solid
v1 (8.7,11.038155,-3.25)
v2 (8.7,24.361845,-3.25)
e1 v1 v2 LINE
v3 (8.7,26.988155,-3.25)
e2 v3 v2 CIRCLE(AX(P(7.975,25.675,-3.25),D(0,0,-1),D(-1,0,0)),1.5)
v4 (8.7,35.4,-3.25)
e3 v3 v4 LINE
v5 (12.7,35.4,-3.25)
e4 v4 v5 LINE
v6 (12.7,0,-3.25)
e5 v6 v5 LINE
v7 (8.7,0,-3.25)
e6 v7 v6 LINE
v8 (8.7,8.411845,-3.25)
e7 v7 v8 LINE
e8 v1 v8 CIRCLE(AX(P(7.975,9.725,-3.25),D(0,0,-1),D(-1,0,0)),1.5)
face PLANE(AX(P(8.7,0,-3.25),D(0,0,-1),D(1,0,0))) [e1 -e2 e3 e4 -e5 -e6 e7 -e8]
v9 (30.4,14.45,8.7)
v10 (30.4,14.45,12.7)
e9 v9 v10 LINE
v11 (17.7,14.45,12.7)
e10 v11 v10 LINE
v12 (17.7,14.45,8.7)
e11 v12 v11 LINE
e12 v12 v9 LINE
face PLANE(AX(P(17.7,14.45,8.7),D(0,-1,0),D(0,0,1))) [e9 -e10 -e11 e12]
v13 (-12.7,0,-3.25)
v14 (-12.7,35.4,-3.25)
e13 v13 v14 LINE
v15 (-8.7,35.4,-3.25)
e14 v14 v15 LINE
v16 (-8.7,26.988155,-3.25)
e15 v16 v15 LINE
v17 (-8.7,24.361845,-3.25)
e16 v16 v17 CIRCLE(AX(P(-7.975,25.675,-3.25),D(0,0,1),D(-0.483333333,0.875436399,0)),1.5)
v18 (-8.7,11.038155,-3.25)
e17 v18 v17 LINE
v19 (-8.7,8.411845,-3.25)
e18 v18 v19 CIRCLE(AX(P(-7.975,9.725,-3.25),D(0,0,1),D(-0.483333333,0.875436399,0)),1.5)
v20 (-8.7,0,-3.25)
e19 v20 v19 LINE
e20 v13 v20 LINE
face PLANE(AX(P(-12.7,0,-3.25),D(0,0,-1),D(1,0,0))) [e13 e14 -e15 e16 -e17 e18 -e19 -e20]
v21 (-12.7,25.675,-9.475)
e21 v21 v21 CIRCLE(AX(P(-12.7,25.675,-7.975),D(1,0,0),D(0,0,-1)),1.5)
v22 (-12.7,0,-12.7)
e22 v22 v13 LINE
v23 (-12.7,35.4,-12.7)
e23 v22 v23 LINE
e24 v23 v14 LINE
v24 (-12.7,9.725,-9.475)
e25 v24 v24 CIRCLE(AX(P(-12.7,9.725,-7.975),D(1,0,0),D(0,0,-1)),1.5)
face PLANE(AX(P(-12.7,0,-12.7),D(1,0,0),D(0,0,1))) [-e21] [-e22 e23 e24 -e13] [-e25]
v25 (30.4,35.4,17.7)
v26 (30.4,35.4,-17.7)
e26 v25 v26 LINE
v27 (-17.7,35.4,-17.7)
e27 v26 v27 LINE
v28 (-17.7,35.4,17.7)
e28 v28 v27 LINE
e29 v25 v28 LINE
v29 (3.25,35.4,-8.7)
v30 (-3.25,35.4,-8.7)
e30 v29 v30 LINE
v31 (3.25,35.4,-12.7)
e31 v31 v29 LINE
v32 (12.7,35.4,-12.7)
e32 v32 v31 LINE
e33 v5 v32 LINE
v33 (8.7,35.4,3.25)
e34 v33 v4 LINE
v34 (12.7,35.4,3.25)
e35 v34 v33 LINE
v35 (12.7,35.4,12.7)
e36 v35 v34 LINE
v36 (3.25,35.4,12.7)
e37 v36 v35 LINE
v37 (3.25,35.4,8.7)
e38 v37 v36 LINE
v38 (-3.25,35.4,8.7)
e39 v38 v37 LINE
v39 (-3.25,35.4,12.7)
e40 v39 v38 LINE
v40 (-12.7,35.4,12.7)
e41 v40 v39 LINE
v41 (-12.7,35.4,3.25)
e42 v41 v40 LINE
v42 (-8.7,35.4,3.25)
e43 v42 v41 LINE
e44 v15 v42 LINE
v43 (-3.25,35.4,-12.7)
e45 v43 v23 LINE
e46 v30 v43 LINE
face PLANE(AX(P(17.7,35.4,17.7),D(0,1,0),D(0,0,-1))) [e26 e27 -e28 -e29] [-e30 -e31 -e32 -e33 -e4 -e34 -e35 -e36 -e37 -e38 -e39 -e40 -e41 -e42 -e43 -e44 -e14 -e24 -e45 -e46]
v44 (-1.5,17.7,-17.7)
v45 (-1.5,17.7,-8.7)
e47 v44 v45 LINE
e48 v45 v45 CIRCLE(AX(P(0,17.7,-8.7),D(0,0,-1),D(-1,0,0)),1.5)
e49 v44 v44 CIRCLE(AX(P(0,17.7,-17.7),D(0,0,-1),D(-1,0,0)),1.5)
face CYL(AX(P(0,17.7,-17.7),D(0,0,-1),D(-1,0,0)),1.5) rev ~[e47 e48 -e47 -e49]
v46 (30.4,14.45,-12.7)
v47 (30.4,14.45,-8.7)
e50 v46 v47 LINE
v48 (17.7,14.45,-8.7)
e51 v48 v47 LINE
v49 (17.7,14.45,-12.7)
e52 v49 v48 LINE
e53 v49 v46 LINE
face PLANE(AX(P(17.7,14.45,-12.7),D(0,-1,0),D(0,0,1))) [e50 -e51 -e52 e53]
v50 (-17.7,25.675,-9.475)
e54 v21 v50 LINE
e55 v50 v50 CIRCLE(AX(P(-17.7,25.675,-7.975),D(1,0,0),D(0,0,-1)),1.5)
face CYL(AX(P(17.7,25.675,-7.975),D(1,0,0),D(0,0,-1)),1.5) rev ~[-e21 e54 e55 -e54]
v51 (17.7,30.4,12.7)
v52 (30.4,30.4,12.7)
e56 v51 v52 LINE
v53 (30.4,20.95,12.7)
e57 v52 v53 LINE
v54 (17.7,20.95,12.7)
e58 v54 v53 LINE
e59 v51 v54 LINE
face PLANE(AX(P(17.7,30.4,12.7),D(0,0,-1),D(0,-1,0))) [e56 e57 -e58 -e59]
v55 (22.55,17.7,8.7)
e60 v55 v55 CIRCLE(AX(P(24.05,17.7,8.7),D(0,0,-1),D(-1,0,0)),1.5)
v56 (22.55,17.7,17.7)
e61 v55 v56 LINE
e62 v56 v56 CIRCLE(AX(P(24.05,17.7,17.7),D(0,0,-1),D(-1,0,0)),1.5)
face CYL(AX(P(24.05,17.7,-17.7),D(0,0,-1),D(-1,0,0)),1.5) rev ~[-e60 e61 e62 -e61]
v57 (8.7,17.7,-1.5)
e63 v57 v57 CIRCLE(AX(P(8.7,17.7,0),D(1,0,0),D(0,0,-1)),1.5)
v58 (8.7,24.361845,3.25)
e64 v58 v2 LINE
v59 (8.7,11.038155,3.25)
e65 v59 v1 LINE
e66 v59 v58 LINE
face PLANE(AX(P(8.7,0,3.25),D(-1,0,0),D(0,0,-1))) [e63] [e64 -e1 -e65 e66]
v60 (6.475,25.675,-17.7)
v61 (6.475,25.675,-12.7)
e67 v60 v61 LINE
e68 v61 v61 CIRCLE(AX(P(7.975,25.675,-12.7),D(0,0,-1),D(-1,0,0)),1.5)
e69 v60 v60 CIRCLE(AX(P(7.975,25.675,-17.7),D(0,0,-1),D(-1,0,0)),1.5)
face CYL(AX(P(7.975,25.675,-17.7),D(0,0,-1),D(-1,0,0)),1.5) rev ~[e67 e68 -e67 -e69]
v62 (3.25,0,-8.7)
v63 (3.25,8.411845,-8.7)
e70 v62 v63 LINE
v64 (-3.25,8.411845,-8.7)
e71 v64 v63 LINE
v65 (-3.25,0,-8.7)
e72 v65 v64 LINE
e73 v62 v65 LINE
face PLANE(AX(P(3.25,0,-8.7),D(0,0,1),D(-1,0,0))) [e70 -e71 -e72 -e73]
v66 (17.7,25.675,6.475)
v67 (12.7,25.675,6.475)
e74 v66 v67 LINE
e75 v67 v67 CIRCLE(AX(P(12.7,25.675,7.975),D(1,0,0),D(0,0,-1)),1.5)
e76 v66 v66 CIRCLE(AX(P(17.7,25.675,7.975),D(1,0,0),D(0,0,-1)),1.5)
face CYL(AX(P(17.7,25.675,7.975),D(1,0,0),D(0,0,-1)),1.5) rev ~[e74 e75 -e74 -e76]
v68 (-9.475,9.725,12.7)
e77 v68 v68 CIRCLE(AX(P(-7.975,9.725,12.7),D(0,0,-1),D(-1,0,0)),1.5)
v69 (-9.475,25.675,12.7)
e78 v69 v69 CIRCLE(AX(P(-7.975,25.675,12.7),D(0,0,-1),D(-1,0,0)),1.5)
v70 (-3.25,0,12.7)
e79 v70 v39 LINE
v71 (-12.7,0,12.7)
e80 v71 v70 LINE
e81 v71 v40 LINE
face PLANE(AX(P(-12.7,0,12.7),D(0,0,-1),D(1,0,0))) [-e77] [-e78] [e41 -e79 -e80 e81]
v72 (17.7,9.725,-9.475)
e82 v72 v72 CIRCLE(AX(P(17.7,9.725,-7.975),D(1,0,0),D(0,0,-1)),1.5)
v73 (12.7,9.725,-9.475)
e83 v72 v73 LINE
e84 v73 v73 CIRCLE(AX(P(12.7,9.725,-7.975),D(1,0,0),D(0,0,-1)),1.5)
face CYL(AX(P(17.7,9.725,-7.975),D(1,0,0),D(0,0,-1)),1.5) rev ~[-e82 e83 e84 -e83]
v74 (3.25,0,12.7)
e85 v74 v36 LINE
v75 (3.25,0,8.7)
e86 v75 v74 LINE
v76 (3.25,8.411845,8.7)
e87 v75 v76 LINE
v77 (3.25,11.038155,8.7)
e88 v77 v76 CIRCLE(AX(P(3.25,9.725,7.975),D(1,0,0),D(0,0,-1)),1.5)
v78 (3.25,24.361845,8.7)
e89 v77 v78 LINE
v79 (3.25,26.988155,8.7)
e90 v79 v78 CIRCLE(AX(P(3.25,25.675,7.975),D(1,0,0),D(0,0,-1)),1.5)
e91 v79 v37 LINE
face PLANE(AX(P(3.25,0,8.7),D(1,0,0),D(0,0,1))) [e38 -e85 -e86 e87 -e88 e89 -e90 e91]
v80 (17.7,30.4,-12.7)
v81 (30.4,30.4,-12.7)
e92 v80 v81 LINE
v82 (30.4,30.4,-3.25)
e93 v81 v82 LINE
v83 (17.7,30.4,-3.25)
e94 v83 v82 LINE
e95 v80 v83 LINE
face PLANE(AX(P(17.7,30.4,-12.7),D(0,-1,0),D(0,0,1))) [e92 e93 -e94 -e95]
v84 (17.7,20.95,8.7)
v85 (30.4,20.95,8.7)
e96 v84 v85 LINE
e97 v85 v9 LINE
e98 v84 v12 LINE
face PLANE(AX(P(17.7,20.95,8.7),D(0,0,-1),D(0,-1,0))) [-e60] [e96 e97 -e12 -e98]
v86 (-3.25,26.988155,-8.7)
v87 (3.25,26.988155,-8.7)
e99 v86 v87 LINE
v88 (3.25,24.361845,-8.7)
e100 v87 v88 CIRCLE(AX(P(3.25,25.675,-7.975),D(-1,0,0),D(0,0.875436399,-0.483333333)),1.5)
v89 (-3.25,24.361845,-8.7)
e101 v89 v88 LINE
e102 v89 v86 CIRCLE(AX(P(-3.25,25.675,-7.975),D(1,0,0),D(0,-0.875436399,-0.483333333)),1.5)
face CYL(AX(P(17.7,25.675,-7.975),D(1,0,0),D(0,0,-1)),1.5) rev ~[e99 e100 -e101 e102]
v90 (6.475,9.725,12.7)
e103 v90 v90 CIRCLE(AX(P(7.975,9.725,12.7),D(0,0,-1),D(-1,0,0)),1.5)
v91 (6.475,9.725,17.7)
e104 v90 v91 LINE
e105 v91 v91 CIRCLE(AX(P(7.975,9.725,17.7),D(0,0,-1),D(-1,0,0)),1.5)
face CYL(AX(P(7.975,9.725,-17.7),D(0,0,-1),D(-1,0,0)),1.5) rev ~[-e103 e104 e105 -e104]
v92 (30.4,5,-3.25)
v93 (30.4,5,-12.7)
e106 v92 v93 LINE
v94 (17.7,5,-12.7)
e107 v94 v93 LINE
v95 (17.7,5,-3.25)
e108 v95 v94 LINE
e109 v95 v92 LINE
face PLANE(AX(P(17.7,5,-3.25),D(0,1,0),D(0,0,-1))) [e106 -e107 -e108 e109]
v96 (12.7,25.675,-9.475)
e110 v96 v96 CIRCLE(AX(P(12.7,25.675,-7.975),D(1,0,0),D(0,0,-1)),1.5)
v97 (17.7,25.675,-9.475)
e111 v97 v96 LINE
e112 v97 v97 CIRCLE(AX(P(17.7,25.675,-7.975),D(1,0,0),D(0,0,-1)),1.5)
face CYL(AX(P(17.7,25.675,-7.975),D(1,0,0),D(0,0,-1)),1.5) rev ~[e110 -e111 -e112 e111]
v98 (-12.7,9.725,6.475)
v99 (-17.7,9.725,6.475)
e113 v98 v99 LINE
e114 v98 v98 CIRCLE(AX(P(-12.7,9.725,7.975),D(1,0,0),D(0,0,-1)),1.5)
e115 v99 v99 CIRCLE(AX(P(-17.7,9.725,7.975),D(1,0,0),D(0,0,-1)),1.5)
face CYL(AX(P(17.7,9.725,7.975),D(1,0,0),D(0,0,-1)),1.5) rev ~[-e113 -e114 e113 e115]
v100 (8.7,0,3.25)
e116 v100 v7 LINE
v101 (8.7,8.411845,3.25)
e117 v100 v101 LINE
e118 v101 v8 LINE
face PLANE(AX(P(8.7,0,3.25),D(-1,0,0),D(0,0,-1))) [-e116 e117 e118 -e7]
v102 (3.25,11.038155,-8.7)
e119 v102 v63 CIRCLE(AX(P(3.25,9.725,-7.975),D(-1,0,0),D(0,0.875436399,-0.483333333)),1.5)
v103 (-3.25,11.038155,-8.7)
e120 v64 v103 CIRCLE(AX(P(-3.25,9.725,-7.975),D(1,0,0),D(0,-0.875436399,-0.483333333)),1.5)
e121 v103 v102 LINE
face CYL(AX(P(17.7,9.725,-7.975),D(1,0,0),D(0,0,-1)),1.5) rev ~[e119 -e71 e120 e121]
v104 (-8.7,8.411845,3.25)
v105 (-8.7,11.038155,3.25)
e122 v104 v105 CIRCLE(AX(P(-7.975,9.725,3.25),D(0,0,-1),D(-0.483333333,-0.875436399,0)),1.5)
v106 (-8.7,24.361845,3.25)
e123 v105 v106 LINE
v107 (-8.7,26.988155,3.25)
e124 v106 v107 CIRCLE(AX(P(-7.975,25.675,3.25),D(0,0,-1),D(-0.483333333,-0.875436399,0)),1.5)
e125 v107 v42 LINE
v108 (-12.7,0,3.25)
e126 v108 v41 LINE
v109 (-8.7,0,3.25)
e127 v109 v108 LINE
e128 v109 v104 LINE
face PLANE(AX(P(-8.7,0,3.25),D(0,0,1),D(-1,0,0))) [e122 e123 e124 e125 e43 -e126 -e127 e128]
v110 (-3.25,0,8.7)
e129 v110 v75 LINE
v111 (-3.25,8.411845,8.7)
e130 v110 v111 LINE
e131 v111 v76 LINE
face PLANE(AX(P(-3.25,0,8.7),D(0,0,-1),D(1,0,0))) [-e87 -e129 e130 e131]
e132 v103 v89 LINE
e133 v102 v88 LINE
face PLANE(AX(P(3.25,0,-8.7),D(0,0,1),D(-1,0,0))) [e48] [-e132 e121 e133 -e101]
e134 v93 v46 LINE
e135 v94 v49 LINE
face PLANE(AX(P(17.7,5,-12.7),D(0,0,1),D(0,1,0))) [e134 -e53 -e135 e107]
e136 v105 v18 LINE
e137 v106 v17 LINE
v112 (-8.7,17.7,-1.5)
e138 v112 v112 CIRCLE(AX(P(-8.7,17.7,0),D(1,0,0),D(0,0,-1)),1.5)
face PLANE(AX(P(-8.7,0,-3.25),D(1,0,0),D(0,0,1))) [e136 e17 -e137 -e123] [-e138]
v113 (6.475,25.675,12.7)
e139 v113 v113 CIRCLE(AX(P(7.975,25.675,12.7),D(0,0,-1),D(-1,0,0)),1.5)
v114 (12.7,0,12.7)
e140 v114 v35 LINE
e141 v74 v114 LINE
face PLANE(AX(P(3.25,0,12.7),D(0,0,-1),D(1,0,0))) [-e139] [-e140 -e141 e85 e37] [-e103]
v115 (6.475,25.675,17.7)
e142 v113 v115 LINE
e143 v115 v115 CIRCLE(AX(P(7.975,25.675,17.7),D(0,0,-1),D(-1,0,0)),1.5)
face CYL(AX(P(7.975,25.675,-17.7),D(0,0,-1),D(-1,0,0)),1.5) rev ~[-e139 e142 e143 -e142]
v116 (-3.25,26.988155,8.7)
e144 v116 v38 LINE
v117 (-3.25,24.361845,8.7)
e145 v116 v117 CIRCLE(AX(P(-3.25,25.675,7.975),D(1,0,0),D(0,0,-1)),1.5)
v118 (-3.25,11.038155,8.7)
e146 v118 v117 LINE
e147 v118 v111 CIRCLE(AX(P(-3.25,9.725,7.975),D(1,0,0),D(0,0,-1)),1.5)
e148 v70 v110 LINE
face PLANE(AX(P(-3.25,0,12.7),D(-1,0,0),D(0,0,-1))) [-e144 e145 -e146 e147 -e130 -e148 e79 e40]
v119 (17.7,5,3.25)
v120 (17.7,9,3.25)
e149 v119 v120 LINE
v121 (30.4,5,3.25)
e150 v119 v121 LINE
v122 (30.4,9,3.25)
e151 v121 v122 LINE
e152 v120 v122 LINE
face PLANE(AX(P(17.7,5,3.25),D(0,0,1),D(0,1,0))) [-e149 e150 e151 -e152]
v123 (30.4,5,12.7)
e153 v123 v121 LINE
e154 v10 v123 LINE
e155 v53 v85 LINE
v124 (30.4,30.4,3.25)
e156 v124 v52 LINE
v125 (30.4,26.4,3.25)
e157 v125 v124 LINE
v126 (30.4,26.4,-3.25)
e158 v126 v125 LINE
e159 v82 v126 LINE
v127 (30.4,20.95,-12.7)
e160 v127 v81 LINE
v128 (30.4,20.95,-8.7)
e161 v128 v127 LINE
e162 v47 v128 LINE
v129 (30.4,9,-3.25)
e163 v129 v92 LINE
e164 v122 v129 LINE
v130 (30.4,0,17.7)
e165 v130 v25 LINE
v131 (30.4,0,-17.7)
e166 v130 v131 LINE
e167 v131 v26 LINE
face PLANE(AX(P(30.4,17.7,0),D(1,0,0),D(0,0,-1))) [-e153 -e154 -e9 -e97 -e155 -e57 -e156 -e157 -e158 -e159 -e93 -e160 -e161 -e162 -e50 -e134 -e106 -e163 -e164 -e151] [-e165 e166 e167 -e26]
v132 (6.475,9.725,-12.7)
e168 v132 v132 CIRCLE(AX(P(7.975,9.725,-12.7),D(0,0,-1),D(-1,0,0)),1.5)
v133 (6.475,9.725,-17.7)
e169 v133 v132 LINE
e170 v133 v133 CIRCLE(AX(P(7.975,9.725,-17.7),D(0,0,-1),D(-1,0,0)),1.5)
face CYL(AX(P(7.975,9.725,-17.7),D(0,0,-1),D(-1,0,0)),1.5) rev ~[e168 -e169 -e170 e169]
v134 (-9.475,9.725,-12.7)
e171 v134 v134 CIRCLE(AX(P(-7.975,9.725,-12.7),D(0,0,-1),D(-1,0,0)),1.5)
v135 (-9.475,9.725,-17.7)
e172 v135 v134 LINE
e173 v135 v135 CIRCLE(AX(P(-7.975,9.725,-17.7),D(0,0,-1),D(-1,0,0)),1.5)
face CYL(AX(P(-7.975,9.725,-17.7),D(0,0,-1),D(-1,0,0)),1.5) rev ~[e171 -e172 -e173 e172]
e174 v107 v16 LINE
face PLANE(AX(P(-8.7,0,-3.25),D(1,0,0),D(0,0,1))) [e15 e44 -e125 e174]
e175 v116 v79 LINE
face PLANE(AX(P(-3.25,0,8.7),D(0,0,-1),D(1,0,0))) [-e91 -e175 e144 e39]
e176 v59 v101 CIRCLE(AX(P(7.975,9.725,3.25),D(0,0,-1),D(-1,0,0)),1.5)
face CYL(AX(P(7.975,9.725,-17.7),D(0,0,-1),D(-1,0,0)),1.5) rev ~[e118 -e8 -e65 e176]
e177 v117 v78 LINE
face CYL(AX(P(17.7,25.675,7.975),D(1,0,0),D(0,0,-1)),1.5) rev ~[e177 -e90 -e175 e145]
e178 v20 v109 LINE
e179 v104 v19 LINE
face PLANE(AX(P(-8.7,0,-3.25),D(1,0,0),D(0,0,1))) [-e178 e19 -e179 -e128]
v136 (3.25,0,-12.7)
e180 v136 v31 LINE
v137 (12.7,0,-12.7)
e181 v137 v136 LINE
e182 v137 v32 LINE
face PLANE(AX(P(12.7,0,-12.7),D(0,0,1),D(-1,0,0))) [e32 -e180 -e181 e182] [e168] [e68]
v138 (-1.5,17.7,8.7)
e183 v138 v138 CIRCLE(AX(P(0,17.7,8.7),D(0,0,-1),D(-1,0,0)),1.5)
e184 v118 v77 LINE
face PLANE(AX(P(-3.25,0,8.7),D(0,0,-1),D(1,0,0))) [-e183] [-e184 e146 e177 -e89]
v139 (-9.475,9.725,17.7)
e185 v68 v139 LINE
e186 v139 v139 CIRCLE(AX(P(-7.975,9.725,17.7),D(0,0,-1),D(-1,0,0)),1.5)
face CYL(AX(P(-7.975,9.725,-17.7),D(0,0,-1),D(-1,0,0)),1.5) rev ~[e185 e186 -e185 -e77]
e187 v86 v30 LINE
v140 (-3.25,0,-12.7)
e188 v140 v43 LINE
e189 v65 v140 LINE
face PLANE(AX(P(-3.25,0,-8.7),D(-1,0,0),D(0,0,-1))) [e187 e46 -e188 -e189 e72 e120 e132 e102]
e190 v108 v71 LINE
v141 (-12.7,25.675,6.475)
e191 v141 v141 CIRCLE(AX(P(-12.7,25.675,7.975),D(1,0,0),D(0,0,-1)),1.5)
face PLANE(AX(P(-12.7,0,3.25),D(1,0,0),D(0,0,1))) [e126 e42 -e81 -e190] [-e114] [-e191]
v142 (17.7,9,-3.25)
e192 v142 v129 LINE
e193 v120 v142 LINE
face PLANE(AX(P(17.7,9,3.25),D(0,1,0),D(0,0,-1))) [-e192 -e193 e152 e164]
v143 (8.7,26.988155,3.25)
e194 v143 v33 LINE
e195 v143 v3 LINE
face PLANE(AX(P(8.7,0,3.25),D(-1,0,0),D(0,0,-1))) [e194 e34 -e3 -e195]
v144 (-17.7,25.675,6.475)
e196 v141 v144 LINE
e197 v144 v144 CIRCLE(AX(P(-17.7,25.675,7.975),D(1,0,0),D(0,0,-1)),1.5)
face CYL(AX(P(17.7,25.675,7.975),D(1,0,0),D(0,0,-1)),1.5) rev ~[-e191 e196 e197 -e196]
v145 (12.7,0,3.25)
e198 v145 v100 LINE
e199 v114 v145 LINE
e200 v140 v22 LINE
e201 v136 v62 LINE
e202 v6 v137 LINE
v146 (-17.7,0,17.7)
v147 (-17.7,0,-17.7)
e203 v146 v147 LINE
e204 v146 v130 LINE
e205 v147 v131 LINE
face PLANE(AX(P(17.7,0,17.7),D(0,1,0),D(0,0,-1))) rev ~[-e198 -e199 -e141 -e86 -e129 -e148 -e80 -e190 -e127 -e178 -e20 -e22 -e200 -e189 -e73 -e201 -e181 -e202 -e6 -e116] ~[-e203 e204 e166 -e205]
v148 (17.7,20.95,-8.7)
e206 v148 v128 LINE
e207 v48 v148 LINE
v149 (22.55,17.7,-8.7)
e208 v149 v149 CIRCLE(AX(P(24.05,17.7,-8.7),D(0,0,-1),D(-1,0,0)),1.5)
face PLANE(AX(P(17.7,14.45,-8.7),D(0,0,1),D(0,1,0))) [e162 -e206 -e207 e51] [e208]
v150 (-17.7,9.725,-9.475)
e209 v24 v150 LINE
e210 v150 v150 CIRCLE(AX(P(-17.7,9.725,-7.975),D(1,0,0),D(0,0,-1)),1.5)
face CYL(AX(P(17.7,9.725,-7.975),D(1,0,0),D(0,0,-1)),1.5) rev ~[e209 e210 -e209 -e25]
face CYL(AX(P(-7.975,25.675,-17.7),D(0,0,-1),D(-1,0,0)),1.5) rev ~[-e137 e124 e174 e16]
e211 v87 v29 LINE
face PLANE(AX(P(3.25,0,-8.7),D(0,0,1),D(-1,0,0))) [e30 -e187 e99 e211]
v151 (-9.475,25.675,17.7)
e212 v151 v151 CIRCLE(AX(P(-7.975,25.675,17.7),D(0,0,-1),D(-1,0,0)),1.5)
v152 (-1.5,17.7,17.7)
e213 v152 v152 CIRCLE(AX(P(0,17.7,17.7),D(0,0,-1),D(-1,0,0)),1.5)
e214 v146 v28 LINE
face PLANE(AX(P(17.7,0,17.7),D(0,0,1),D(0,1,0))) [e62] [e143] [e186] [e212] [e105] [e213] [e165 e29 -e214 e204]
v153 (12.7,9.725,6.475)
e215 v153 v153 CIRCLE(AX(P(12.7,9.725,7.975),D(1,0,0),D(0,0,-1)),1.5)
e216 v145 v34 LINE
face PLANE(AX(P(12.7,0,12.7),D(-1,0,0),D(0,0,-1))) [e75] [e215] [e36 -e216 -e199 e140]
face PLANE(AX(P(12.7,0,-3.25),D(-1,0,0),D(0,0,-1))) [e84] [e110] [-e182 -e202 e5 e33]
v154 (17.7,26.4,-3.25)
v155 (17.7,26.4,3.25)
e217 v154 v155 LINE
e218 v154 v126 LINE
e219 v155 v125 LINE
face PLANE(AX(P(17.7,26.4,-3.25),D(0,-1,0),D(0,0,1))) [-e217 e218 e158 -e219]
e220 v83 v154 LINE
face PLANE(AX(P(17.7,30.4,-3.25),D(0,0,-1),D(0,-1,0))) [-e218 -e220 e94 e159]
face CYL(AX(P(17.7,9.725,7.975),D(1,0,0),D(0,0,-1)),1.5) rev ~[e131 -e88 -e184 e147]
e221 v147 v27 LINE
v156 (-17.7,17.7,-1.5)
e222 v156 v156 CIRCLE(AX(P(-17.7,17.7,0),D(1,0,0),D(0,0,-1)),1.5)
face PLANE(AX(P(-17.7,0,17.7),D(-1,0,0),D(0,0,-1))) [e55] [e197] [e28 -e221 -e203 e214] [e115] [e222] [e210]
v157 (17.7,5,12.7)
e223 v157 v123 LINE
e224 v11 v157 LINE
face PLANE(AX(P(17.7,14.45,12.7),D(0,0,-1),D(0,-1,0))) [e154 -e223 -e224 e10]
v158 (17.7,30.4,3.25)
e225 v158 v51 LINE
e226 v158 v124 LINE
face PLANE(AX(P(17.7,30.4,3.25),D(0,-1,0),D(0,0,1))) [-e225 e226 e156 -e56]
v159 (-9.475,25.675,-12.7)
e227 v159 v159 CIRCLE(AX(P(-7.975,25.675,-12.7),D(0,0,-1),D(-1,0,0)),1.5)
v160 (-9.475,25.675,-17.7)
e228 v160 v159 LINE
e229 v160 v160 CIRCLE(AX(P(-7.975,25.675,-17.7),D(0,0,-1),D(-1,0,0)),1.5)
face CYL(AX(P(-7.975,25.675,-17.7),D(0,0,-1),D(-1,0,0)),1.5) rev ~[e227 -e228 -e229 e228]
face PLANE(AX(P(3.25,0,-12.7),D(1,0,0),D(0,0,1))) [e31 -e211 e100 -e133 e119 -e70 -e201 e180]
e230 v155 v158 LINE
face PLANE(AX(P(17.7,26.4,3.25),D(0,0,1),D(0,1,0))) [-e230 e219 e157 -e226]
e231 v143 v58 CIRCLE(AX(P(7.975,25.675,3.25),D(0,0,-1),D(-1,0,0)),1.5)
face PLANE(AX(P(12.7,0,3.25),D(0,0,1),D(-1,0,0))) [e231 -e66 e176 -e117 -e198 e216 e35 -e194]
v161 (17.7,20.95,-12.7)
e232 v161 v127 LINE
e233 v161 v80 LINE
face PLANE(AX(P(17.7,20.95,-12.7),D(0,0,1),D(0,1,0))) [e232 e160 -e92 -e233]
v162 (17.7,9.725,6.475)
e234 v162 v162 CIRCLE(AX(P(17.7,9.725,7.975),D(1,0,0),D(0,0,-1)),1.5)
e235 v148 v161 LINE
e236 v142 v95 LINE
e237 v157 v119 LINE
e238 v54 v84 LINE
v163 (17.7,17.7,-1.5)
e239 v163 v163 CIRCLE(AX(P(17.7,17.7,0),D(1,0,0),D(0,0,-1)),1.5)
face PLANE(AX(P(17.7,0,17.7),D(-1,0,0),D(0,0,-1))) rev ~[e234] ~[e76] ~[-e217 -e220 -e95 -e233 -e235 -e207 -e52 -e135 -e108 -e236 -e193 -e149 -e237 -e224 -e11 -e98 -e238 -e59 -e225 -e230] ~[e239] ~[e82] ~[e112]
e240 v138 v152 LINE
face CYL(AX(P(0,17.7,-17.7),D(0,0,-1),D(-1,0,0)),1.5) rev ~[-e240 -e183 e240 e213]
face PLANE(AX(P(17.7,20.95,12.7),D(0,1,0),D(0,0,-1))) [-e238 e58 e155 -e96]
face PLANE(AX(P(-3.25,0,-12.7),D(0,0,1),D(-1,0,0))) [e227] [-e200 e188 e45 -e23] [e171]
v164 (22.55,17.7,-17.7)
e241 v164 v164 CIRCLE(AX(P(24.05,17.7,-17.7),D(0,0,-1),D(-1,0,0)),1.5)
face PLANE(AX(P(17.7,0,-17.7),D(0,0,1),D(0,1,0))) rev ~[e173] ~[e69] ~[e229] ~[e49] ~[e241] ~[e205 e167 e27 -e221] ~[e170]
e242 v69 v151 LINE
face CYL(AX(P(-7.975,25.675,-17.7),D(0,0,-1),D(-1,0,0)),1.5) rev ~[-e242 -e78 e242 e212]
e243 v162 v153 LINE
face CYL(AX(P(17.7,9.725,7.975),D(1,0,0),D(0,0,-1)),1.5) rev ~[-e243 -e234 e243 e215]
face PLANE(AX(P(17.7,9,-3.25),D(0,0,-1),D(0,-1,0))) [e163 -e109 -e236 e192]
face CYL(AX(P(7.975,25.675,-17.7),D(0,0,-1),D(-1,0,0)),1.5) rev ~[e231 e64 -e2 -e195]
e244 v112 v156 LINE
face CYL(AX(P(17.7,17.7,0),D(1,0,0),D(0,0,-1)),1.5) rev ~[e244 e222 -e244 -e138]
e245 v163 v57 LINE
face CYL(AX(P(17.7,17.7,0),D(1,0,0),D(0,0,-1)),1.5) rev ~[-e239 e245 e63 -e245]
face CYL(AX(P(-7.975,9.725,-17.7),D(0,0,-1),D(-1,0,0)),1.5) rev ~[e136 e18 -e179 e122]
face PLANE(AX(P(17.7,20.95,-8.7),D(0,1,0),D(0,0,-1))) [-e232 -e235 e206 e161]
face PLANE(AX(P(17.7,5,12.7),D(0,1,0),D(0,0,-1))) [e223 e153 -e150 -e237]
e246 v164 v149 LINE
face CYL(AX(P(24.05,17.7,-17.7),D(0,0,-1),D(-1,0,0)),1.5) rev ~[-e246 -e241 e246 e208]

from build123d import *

# Parameters (mm, degrees)
SKETCH1_W           = 35.4
SKETCH1_H           = 35.4
BOSS_EXTRUDE1_DEPTH = 35.4
SKETCH2_W           = 35.4
SKETCH2_H           = 35.4
BOSS_EXTRUDE2_DEPTH = 12.7
SKETCH5_R           = 1.5
CUT_EXTRUDE2_DEPTH  = 54.1
SKETCH6_R           = 1.5
CUT_EXTRUDE3_DEPTH  = 59.570299641


with BuildPart() as part:
    # Sketch1 → Boss-Extrude1 (new body)
    with BuildSketch(Plane(origin=(0, 0, 0), x_dir=(1, 0, 0), z_dir=(0, 1, 0))):
        Rectangle(SKETCH1_W, SKETCH1_H)
        Polygon((12.7, 3.25), (12.7, 12.7), (3.25, 12.7), (3.25, 8.7), (-3.25, 8.7), (-3.25, 12.7), (-12.7, 12.7), (-12.7, 3.25), (-8.7, 3.25), (-8.7, -3.25), (-12.7, -3.25), (-12.7, -12.7), (-3.25, -12.7), (-3.25, -8.7), (3.25, -8.7), (3.25, -12.7), (12.7, -12.7), (12.7, -3.25), (8.7, -3.25), (8.7, 3.25), align=None, mode=Mode.SUBTRACT)
    extrude(amount=BOSS_EXTRUDE1_DEPTH)

    # Sketch2 → Boss-Extrude2 (add)
    with BuildSketch(Plane(origin=(17.7, 0, 0), x_dir=(0, 0, -1), z_dir=(1, 0, 0))):
        with Locations((0, 17.7)):
            Rectangle(SKETCH2_W, SKETCH2_H)
        Polygon((12.7, 20.95), (12.7, 30.4), (3.25, 30.4), (3.25, 26.4), (-3.25, 26.4), (-3.25, 30.4), (-12.7, 30.4), (-12.7, 20.95), (-8.7, 20.95), (-8.7, 14.45), (-12.7, 14.45), (-12.7, 5), (-3.25, 5), (-3.25, 9), (3.25, 9), (3.25, 5), (12.7, 5), (12.7, 14.45), (8.7, 14.45), (8.7, 20.95), align=None, mode=Mode.SUBTRACT)
    extrude(amount=BOSS_EXTRUDE2_DEPTH)

    # Sketch5 → Cut-Extrude2 (cut, through all)
    with BuildSketch(Plane(origin=(17.7, 0, 0), x_dir=(0, 0, -1), z_dir=(1, 0, 0))):
        with Locations((0, 17.7)):
            Circle(SKETCH5_R)
        with Locations((7.975, 9.725)):
            Circle(SKETCH5_R)
        with Locations((-7.975, 9.725)):
            Circle(SKETCH5_R)
        with Locations((-7.975, 25.675)):
            Circle(SKETCH5_R)
        with Locations((7.975, 25.675)):
            Circle(SKETCH5_R)
    extrude(amount=-CUT_EXTRUDE2_DEPTH, mode=Mode.SUBTRACT)

    # Sketch6 → Cut-Extrude3 (cut, through all)
    with BuildSketch(Plane(origin=(0, 0, -17.7), x_dir=(-1, 0, 0), z_dir=(0, 0, -1))):
        with Locations((7.975, 9.725)):
            Circle(SKETCH6_R)
        with Locations((0, 17.7)):
            Circle(SKETCH6_R)
        with Locations((-7.975, 9.725)):
            Circle(SKETCH6_R)
        with Locations((-7.975, 25.675)):
            Circle(SKETCH6_R)
        with Locations((7.975, 25.675)):
            Circle(SKETCH6_R)
        with Locations((-24.05, 17.7)):
            Circle(SKETCH6_R)
    extrude(amount=-CUT_EXTRUDE3_DEPTH, mode=Mode.SUBTRACT)


solid = part.part
